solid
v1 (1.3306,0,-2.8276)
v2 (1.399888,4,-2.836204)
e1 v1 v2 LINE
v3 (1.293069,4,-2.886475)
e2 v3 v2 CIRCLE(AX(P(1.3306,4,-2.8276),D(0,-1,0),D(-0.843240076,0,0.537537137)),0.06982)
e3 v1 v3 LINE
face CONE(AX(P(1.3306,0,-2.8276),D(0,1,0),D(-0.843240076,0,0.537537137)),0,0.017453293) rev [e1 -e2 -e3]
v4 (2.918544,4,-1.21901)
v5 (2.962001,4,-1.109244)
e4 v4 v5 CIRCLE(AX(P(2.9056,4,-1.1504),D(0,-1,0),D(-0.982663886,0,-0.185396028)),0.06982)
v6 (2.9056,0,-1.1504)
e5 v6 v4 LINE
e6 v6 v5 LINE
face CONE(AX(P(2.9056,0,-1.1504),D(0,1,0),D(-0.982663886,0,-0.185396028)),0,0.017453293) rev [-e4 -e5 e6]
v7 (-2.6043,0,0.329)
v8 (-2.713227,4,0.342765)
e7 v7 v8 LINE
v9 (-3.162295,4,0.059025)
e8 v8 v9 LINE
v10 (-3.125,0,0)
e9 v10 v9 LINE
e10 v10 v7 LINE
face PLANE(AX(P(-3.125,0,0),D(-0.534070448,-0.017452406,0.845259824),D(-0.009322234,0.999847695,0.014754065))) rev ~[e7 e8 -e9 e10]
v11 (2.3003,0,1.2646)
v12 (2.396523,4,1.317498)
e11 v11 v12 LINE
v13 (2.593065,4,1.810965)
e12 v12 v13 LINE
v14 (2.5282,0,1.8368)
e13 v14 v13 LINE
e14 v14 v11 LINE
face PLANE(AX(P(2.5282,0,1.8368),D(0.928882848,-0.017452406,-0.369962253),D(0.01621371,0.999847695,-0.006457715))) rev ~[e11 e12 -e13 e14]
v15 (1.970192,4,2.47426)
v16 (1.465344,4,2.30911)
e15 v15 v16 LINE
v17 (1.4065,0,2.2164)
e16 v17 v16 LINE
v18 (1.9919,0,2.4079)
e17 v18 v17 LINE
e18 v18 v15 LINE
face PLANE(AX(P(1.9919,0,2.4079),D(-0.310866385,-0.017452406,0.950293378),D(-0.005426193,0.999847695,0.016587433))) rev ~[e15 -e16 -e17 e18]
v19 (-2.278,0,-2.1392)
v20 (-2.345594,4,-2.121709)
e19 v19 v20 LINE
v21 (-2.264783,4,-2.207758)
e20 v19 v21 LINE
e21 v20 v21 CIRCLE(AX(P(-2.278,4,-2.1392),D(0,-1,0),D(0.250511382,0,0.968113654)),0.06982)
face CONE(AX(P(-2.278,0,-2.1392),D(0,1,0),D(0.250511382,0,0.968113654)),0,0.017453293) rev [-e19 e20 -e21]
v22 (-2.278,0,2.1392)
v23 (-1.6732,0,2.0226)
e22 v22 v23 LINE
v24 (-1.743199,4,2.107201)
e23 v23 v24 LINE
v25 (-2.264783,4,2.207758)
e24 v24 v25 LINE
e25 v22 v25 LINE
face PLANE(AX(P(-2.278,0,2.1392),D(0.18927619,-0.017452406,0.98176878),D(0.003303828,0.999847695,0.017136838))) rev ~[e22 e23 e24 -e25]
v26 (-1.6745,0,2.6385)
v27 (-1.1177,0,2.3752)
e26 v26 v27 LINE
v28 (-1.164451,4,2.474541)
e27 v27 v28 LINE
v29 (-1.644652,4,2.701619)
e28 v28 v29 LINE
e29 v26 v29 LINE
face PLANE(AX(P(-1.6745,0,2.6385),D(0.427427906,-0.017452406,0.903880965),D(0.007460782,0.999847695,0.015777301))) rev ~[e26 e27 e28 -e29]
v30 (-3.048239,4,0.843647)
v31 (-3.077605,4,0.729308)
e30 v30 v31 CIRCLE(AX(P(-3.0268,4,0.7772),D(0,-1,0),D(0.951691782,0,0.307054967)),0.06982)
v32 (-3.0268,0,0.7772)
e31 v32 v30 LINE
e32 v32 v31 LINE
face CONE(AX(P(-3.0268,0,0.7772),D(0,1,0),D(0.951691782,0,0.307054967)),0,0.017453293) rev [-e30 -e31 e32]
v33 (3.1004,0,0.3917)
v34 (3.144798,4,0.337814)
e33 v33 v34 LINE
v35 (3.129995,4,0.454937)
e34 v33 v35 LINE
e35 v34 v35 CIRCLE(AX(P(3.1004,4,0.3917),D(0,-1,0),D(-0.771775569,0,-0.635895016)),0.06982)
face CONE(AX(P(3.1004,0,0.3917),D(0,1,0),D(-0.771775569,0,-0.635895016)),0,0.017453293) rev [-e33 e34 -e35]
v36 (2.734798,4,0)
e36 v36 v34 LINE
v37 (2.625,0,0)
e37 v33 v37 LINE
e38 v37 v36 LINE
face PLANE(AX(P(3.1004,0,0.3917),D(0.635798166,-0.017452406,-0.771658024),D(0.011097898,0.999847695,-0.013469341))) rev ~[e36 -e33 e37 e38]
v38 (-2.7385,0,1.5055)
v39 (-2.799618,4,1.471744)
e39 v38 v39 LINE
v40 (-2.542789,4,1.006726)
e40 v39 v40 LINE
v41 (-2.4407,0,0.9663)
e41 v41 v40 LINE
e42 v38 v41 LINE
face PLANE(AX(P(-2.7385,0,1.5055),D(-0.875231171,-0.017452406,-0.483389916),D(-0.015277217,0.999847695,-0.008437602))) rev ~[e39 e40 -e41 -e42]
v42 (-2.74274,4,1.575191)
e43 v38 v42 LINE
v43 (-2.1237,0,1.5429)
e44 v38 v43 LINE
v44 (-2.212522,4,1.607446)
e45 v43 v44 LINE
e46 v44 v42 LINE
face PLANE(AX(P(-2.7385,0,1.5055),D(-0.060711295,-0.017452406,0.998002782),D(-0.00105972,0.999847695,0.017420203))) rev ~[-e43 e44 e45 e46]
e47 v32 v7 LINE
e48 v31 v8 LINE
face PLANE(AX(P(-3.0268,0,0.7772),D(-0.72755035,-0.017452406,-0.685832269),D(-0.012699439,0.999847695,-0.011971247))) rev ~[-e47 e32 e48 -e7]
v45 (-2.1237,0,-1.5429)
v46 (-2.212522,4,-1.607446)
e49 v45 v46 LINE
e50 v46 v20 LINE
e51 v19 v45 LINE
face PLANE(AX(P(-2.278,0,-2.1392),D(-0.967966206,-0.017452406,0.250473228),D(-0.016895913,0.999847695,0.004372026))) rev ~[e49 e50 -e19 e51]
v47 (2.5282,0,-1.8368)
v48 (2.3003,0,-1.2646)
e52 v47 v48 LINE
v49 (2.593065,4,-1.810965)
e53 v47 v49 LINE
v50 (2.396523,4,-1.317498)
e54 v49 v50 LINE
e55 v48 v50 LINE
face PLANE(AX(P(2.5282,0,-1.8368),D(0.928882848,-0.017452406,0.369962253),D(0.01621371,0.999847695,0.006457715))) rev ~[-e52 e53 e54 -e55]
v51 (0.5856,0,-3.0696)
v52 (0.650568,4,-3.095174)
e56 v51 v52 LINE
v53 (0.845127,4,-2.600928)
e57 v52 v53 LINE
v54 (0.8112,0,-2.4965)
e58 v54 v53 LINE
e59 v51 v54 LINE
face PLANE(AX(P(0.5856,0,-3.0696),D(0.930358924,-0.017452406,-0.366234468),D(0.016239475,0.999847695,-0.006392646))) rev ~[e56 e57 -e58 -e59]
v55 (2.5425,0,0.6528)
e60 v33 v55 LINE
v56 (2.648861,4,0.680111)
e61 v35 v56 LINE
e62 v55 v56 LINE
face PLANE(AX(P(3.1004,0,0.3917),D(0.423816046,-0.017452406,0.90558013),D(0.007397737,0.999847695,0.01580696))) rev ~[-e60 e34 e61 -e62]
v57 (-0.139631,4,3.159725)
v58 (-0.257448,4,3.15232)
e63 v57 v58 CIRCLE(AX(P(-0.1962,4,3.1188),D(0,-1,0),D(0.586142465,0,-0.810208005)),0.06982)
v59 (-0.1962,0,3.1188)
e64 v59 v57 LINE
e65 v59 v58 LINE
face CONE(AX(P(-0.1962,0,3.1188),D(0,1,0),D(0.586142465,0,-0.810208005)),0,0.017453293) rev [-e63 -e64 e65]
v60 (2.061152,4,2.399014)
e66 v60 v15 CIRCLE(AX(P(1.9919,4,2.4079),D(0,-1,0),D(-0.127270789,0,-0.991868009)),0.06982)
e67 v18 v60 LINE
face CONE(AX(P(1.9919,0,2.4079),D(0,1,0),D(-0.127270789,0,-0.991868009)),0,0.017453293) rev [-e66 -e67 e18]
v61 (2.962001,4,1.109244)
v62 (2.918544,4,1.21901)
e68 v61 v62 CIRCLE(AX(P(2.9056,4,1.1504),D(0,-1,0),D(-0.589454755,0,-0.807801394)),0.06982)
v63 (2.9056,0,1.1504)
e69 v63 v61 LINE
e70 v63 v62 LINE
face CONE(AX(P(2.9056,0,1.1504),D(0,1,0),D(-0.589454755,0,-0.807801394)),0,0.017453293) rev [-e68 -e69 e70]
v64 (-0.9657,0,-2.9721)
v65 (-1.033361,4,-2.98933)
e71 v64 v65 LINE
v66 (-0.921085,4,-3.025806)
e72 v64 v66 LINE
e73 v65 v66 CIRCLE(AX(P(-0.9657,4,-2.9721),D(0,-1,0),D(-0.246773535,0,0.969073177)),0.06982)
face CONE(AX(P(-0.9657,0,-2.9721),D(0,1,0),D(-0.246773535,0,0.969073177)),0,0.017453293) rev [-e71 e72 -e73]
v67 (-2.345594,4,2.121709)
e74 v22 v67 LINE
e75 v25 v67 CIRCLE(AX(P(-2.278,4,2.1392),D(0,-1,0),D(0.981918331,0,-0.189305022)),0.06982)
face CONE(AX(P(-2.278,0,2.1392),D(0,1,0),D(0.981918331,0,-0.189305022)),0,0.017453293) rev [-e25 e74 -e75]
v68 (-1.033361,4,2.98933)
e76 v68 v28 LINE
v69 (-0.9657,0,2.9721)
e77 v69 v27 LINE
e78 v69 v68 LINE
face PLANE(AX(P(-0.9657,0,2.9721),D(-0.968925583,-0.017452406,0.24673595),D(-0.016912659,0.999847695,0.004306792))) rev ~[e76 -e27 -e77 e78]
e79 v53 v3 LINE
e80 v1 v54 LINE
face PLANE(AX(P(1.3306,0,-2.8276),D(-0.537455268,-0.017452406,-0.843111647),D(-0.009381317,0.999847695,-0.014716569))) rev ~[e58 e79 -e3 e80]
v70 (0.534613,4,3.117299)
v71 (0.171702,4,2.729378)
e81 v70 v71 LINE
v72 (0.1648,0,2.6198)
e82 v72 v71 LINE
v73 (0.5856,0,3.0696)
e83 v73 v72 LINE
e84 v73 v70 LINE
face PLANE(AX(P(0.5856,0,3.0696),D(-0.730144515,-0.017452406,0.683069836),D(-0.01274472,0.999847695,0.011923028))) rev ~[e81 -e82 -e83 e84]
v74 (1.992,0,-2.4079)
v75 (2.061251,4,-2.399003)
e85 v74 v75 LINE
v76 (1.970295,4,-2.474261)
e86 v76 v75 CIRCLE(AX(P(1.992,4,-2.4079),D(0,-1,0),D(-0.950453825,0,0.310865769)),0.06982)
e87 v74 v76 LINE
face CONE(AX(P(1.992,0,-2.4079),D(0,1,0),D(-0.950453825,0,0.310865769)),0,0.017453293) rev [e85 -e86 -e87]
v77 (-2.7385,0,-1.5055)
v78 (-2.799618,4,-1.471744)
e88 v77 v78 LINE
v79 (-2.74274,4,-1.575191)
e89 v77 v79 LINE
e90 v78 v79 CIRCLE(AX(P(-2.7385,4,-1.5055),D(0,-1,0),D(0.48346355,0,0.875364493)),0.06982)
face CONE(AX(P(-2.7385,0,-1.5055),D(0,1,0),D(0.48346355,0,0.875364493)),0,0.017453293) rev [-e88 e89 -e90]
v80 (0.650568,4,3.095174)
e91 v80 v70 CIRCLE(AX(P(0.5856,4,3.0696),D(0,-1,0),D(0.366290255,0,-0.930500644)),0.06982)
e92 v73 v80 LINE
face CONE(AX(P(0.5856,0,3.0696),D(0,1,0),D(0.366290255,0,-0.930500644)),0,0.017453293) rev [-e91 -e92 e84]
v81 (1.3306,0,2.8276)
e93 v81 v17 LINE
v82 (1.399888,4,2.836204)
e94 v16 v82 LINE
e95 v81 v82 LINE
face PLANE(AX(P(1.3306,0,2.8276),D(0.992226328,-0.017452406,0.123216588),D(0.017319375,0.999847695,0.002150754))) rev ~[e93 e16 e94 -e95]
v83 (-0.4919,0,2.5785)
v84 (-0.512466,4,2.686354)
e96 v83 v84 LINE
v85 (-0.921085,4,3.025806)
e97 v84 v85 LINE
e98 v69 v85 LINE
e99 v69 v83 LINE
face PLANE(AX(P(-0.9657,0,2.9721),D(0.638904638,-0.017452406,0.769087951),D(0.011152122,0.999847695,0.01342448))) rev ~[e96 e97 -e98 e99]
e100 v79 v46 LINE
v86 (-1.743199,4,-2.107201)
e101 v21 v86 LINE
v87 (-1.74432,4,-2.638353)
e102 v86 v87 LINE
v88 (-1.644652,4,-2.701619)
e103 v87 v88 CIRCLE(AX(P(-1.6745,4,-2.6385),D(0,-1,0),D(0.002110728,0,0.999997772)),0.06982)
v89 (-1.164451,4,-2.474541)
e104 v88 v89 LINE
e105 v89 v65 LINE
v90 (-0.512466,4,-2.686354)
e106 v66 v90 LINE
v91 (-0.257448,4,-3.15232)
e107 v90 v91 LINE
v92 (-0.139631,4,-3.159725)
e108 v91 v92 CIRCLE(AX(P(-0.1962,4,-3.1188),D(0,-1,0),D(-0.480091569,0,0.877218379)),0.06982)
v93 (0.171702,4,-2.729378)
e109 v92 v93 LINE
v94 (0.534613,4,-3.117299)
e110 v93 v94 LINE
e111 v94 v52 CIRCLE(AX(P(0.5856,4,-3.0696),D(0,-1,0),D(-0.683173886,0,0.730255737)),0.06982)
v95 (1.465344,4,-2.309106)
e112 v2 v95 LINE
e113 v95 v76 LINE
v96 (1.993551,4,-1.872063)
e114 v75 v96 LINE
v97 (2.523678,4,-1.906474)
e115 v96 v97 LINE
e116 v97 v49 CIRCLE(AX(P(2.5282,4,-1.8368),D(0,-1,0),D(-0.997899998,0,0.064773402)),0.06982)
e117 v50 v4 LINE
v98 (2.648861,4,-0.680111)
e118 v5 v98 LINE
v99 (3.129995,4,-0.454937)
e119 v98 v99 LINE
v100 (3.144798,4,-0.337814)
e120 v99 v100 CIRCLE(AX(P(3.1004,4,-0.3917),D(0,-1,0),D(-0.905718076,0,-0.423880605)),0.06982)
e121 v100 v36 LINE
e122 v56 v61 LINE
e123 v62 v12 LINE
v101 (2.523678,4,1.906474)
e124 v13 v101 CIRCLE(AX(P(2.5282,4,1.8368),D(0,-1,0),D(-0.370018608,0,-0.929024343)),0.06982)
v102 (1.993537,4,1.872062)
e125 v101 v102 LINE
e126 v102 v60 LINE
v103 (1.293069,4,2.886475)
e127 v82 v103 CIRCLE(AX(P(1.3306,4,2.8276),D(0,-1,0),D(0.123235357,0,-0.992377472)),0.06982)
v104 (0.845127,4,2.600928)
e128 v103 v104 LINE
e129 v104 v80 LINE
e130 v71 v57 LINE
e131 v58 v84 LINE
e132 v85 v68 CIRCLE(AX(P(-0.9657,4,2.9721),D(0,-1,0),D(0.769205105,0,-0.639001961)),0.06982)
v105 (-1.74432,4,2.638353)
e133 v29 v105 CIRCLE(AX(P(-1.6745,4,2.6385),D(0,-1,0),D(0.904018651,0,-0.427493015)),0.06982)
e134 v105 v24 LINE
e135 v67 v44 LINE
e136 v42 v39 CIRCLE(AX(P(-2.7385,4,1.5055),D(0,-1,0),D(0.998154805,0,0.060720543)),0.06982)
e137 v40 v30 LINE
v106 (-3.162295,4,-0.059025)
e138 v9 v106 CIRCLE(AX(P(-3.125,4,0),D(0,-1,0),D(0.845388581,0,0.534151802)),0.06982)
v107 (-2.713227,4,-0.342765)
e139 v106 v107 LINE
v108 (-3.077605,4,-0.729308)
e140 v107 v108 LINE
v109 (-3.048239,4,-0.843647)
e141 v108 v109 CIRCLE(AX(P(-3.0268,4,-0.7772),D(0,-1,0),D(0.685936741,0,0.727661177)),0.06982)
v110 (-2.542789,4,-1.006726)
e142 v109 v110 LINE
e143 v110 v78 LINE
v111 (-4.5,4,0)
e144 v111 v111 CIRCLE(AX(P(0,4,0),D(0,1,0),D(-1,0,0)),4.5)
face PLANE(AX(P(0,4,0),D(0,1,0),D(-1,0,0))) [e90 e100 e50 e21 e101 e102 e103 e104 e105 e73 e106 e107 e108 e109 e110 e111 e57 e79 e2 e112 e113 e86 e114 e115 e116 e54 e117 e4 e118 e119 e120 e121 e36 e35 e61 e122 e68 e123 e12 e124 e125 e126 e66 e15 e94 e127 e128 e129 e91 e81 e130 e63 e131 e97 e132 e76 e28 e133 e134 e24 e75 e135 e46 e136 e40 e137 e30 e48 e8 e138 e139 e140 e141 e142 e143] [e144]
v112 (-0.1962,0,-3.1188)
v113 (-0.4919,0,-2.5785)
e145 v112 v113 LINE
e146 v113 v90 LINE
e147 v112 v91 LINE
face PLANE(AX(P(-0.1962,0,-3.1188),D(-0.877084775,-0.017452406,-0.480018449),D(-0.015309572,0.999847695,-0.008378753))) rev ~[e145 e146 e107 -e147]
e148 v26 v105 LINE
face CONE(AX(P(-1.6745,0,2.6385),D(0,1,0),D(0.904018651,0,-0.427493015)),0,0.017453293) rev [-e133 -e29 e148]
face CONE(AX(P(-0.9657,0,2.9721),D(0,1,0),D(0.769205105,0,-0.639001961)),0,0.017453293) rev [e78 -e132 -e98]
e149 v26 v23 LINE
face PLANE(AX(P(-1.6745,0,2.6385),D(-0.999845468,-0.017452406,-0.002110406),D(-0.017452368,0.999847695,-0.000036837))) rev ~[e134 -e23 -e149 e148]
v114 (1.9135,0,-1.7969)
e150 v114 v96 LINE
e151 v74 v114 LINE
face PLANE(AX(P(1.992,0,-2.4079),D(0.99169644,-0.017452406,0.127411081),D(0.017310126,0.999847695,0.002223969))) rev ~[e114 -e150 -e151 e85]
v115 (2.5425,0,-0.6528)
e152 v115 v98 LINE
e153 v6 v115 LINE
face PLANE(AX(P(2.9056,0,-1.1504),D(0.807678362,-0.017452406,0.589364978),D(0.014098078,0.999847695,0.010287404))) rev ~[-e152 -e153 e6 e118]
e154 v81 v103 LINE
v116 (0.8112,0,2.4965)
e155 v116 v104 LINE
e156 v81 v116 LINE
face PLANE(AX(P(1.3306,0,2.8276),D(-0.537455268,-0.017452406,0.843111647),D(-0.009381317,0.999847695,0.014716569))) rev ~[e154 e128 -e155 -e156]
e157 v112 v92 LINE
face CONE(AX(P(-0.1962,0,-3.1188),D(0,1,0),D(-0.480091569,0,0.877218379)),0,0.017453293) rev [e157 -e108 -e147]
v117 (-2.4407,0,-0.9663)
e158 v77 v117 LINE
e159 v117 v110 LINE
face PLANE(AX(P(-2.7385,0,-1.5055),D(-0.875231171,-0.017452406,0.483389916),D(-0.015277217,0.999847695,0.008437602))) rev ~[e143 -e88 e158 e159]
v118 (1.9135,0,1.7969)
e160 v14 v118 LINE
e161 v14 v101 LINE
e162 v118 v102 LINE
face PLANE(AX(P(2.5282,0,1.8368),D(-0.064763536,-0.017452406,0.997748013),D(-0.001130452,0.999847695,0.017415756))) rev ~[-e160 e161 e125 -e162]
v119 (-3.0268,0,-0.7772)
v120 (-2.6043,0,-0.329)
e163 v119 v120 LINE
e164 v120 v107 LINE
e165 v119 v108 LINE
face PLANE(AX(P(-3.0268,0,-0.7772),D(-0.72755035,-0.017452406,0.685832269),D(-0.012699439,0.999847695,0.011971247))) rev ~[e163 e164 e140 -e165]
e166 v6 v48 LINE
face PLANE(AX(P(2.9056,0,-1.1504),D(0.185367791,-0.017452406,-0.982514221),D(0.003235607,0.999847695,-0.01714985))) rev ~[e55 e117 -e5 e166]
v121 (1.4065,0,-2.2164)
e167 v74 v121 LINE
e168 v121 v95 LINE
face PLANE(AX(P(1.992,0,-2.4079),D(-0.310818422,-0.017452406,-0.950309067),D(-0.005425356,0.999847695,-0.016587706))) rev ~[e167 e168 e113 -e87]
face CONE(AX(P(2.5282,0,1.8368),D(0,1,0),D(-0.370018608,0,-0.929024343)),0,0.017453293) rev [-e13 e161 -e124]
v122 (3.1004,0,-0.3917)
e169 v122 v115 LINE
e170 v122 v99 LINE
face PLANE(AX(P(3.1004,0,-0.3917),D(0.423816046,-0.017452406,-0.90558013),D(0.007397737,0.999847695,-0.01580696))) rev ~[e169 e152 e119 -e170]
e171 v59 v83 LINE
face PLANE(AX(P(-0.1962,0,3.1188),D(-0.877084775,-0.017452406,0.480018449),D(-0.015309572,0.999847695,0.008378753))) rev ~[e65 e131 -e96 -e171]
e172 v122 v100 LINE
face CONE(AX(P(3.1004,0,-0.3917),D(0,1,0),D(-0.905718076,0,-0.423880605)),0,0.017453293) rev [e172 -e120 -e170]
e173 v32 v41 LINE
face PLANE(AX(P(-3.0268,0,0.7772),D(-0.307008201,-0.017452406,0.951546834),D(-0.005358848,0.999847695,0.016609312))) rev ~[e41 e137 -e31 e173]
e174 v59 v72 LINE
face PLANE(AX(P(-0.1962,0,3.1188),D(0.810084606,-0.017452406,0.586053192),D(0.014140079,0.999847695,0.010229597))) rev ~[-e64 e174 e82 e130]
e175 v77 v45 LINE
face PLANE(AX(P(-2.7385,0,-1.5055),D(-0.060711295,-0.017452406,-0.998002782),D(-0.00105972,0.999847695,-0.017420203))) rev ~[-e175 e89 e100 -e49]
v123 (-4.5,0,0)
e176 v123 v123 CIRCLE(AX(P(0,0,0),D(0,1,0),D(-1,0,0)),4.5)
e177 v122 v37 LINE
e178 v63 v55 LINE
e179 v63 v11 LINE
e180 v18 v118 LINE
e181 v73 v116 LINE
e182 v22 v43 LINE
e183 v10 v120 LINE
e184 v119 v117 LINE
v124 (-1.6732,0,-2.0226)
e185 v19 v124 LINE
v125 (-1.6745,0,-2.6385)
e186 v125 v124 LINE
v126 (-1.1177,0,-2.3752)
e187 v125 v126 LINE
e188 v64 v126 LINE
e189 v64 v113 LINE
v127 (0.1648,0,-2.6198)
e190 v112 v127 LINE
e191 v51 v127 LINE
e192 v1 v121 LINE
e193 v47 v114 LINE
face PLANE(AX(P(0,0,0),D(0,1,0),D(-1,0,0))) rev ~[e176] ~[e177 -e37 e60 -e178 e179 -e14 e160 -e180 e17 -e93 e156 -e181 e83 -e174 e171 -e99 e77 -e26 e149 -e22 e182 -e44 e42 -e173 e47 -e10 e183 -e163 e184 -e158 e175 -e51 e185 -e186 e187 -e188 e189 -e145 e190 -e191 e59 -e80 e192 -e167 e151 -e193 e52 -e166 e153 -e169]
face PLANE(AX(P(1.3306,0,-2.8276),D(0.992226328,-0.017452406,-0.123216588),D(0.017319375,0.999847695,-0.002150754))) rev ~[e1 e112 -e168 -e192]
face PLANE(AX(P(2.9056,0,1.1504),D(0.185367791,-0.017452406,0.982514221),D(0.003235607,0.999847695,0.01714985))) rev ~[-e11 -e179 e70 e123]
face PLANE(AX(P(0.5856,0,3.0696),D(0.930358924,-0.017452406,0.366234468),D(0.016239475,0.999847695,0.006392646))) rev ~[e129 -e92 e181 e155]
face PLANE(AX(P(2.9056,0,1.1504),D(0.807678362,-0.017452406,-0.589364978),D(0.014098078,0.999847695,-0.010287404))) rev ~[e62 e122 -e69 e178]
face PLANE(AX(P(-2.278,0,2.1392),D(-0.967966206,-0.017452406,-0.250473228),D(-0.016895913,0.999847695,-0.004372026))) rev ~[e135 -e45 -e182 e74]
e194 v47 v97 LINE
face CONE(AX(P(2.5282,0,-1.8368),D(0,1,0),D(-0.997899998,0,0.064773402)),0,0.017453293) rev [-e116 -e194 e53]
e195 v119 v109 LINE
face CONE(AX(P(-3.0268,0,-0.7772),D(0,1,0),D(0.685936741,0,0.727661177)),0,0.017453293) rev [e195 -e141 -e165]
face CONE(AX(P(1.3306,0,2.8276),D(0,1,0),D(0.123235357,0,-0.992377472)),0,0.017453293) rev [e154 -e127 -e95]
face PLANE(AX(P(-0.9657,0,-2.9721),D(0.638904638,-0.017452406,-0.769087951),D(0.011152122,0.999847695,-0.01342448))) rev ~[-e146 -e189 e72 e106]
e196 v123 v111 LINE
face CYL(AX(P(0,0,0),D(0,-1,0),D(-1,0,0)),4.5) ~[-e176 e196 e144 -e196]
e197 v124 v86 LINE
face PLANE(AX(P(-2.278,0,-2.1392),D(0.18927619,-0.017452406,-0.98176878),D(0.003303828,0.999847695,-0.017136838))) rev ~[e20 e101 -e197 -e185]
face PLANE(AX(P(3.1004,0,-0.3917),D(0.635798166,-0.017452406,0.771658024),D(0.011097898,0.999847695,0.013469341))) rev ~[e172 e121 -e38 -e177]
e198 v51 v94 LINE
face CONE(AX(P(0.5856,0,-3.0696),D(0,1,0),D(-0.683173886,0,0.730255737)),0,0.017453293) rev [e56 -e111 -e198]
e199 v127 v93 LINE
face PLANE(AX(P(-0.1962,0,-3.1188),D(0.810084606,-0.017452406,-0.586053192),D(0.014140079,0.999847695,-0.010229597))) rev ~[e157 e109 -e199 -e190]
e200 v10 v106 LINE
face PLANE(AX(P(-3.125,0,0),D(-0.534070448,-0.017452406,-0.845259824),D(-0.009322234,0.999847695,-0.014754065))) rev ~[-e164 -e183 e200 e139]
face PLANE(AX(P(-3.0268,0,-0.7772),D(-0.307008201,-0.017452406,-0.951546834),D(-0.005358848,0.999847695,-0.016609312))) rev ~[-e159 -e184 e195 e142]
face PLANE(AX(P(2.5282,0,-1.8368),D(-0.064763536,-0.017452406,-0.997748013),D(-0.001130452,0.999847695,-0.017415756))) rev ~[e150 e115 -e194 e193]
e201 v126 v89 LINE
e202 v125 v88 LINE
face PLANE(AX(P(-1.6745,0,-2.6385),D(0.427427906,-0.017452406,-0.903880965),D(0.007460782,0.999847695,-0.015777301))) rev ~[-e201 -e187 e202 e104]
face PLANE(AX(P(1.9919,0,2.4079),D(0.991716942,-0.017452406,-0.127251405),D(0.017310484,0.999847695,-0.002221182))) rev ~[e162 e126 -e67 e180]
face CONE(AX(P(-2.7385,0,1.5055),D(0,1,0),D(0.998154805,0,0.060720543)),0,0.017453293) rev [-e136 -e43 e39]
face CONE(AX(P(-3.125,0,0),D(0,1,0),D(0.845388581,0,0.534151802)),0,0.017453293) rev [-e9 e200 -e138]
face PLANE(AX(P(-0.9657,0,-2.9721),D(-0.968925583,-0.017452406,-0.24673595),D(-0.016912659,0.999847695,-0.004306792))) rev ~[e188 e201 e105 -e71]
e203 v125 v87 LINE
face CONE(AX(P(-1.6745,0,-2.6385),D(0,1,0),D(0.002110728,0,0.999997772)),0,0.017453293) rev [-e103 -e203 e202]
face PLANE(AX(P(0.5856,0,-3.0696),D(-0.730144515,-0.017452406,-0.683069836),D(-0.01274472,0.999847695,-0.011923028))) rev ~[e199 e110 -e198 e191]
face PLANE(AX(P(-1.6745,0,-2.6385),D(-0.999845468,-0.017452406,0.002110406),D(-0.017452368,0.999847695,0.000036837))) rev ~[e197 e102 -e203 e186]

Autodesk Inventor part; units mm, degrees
ref_plane "YZ Plane" through (0, 0, 0) normal (1, 0, 0) x (0, 1, 0)
ref_plane "XZ Plane" through (0, 0, 0) normal (0, 1, 0) x (-1, 0, 0)
ref_plane "XY Plane" through (0, 0, 0) normal (0, 0, 1) x (1, 0, 0)
sketch "Sketch1" plane through (0, 0, 0) normal (0, 1, 0) x (-1, 0, 0)
  circle A0 centre (0, 0) radius 3.125 construction
  circle A1 centre (0, 0) radius 2.625 construction
  line L0 (3.125, 0) -> (2.6043, 0.329)
  line L1 (3.125, 0) -> (2.6043, -0.329)
  line L2 (3.125, 0) -> (2.625, 0) construction
  line L3 (3.0268, 0.7772) -> (2.4407, 0.9663)
  line L4 (3.0268, 0.7772) -> (2.6043, 0.329)
  line L5 (2.7385, 1.5055) -> (2.1237, 1.5429)
  line L6 (2.7385, 1.5055) -> (2.4407, 0.9663)
  line L7 (2.278, 2.1392) -> (1.6732, 2.0226)
  line L8 (2.278, 2.1392) -> (2.1237, 1.5429)
  line L9 (1.6745, 2.6385) -> (1.1177, 2.3752)
  line L10 (1.6745, 2.6385) -> (1.6732, 2.0226)
  line L11 (0.9657, 2.9721) -> (0.4919, 2.5785)
  line L12 (0.9657, 2.9721) -> (1.1177, 2.3752)
  line L13 (0.1962, 3.1188) -> (-0.1648, 2.6198)
  line L14 (0.1962, 3.1188) -> (0.4919, 2.5785)
  line L15 (-0.5856, 3.0696) -> (-0.8112, 2.4965)
  line L16 (-0.5856, 3.0696) -> (-0.1648, 2.6198)
  line L17 (-1.3306, 2.8276) -> (-1.4065, 2.2164)
  line L18 (-1.3306, 2.8276) -> (-0.8112, 2.4965)
  line L19 (-1.9919, 2.4079) -> (-1.9135, 1.7969)
  line L20 (-1.9919, 2.4079) -> (-1.4065, 2.2164)
  line L21 (-2.5282, 1.8368) -> (-2.3003, 1.2646)
  line L22 (-2.5282, 1.8368) -> (-1.9135, 1.7969)
  line L23 (-2.9056, 1.1504) -> (-2.5425, 0.6528)
  line L24 (-2.9056, 1.1504) -> (-2.3003, 1.2646)
  line L25 (-3.1004, 0.3917) -> (-2.625, 0)
  line L26 (-3.1004, 0.3917) -> (-2.5425, 0.6528)
  line L27 (-3.1004, -0.3917) -> (-2.5425, -0.6528)
  line L28 (-3.1004, -0.3917) -> (-2.625, 0)
  line L29 (-2.9056, -1.1504) -> (-2.3003, -1.2646)
  line L30 (-2.9056, -1.1504) -> (-2.5425, -0.6528)
  line L31 (-2.5282, -1.8368) -> (-1.9135, -1.7969)
  line L32 (-2.5282, -1.8368) -> (-2.3003, -1.2646)
  line L33 (-1.992, -2.4079) -> (-1.4065, -2.2164)
  line L34 (-1.992, -2.4079) -> (-1.9135, -1.7969)
  line L35 (-1.3306, -2.8276) -> (-0.8112, -2.4965)
  line L36 (-1.3306, -2.8276) -> (-1.4065, -2.2164)
  line L37 (-0.5856, -3.0696) -> (-0.1648, -2.6198)
  line L38 (-0.5856, -3.0696) -> (-0.8112, -2.4965)
  line L39 (0.1962, -3.1188) -> (0.4919, -2.5785)
  line L40 (0.1962, -3.1188) -> (-0.1648, -2.6198)
  line L41 (0.9657, -2.9721) -> (1.1177, -2.3752)
  line L42 (0.9657, -2.9721) -> (0.4919, -2.5785)
  line L43 (1.6745, -2.6385) -> (1.6732, -2.0226)
  line L44 (1.6745, -2.6385) -> (1.1177, -2.3752)
  line L45 (2.278, -2.1392) -> (2.1237, -1.5429)
  line L46 (2.278, -2.1392) -> (1.6732, -2.0226)
  line L47 (2.7385, -1.5055) -> (2.4407, -0.9663)
  line L48 (2.7385, -1.5055) -> (2.1237, -1.5429)
  line L49 (3.0268, -0.7772) -> (2.6043, -0.329)
  line L50 (3.0268, -0.7772) -> (2.4407, -0.9663)
  circle A2 centre (0, 0) radius 4.5
  point P0 (2.6043, -0.329)
  point P1 (2.4407, 0.9663)
  point P2 (-0.1648, 2.6198)
  point P3 (-2.625, 0)
  point P4 (-0.1648, -2.6198)
  point P5 (2.1237, -1.5429)
  dimension "d0" = 6.25
  dimension "d1" = 0.5
  dimension "d3" = 0.5
  dimension "d6" = 360
  dimension "d11" = 9
extrude "Extrusion1" add sketch "Sketch1" along normal blind 4 contours L1 L49 L50 L47 L48 L45 L46 L43 L44 L41 L42 L39 L40 L37 L38 L35 L36 L33 L34 L31 L32 L29 L30 L27 L28 L25 L26 L23 L24 L21 L22 L19 L20 L17 L18 L15 L16 L13 L14 L11 L12 L9 L10 L7 L8 L5 L6 L3 L4 L0 | A2
extrude "Extrusion2" cut sketch "Sketch1" along normal blind 4 draft 1 contours L1 L49 L50 L47 L48 L45 L46 L43 L44 L41 L42 L39 L40 L37 L38 L35 L36 L33 L34 L31 L32 L29 L30 L27 L28 L25 L26 L23 L24 L21 L22 L19 L20 L17 L18 L15 L16 L13 L14 L11 L12 L9 L10 L7 L8 L5 L6 L3 L4 L0
sketch "Sketch3" plane through (0, 4, 0) normal (0, 1, 0) x (1, 0, 0)
  point P0 (0, 0)
equation "\"d3\" = d1"
properties part number "OMG_servo_head(1deg)"
